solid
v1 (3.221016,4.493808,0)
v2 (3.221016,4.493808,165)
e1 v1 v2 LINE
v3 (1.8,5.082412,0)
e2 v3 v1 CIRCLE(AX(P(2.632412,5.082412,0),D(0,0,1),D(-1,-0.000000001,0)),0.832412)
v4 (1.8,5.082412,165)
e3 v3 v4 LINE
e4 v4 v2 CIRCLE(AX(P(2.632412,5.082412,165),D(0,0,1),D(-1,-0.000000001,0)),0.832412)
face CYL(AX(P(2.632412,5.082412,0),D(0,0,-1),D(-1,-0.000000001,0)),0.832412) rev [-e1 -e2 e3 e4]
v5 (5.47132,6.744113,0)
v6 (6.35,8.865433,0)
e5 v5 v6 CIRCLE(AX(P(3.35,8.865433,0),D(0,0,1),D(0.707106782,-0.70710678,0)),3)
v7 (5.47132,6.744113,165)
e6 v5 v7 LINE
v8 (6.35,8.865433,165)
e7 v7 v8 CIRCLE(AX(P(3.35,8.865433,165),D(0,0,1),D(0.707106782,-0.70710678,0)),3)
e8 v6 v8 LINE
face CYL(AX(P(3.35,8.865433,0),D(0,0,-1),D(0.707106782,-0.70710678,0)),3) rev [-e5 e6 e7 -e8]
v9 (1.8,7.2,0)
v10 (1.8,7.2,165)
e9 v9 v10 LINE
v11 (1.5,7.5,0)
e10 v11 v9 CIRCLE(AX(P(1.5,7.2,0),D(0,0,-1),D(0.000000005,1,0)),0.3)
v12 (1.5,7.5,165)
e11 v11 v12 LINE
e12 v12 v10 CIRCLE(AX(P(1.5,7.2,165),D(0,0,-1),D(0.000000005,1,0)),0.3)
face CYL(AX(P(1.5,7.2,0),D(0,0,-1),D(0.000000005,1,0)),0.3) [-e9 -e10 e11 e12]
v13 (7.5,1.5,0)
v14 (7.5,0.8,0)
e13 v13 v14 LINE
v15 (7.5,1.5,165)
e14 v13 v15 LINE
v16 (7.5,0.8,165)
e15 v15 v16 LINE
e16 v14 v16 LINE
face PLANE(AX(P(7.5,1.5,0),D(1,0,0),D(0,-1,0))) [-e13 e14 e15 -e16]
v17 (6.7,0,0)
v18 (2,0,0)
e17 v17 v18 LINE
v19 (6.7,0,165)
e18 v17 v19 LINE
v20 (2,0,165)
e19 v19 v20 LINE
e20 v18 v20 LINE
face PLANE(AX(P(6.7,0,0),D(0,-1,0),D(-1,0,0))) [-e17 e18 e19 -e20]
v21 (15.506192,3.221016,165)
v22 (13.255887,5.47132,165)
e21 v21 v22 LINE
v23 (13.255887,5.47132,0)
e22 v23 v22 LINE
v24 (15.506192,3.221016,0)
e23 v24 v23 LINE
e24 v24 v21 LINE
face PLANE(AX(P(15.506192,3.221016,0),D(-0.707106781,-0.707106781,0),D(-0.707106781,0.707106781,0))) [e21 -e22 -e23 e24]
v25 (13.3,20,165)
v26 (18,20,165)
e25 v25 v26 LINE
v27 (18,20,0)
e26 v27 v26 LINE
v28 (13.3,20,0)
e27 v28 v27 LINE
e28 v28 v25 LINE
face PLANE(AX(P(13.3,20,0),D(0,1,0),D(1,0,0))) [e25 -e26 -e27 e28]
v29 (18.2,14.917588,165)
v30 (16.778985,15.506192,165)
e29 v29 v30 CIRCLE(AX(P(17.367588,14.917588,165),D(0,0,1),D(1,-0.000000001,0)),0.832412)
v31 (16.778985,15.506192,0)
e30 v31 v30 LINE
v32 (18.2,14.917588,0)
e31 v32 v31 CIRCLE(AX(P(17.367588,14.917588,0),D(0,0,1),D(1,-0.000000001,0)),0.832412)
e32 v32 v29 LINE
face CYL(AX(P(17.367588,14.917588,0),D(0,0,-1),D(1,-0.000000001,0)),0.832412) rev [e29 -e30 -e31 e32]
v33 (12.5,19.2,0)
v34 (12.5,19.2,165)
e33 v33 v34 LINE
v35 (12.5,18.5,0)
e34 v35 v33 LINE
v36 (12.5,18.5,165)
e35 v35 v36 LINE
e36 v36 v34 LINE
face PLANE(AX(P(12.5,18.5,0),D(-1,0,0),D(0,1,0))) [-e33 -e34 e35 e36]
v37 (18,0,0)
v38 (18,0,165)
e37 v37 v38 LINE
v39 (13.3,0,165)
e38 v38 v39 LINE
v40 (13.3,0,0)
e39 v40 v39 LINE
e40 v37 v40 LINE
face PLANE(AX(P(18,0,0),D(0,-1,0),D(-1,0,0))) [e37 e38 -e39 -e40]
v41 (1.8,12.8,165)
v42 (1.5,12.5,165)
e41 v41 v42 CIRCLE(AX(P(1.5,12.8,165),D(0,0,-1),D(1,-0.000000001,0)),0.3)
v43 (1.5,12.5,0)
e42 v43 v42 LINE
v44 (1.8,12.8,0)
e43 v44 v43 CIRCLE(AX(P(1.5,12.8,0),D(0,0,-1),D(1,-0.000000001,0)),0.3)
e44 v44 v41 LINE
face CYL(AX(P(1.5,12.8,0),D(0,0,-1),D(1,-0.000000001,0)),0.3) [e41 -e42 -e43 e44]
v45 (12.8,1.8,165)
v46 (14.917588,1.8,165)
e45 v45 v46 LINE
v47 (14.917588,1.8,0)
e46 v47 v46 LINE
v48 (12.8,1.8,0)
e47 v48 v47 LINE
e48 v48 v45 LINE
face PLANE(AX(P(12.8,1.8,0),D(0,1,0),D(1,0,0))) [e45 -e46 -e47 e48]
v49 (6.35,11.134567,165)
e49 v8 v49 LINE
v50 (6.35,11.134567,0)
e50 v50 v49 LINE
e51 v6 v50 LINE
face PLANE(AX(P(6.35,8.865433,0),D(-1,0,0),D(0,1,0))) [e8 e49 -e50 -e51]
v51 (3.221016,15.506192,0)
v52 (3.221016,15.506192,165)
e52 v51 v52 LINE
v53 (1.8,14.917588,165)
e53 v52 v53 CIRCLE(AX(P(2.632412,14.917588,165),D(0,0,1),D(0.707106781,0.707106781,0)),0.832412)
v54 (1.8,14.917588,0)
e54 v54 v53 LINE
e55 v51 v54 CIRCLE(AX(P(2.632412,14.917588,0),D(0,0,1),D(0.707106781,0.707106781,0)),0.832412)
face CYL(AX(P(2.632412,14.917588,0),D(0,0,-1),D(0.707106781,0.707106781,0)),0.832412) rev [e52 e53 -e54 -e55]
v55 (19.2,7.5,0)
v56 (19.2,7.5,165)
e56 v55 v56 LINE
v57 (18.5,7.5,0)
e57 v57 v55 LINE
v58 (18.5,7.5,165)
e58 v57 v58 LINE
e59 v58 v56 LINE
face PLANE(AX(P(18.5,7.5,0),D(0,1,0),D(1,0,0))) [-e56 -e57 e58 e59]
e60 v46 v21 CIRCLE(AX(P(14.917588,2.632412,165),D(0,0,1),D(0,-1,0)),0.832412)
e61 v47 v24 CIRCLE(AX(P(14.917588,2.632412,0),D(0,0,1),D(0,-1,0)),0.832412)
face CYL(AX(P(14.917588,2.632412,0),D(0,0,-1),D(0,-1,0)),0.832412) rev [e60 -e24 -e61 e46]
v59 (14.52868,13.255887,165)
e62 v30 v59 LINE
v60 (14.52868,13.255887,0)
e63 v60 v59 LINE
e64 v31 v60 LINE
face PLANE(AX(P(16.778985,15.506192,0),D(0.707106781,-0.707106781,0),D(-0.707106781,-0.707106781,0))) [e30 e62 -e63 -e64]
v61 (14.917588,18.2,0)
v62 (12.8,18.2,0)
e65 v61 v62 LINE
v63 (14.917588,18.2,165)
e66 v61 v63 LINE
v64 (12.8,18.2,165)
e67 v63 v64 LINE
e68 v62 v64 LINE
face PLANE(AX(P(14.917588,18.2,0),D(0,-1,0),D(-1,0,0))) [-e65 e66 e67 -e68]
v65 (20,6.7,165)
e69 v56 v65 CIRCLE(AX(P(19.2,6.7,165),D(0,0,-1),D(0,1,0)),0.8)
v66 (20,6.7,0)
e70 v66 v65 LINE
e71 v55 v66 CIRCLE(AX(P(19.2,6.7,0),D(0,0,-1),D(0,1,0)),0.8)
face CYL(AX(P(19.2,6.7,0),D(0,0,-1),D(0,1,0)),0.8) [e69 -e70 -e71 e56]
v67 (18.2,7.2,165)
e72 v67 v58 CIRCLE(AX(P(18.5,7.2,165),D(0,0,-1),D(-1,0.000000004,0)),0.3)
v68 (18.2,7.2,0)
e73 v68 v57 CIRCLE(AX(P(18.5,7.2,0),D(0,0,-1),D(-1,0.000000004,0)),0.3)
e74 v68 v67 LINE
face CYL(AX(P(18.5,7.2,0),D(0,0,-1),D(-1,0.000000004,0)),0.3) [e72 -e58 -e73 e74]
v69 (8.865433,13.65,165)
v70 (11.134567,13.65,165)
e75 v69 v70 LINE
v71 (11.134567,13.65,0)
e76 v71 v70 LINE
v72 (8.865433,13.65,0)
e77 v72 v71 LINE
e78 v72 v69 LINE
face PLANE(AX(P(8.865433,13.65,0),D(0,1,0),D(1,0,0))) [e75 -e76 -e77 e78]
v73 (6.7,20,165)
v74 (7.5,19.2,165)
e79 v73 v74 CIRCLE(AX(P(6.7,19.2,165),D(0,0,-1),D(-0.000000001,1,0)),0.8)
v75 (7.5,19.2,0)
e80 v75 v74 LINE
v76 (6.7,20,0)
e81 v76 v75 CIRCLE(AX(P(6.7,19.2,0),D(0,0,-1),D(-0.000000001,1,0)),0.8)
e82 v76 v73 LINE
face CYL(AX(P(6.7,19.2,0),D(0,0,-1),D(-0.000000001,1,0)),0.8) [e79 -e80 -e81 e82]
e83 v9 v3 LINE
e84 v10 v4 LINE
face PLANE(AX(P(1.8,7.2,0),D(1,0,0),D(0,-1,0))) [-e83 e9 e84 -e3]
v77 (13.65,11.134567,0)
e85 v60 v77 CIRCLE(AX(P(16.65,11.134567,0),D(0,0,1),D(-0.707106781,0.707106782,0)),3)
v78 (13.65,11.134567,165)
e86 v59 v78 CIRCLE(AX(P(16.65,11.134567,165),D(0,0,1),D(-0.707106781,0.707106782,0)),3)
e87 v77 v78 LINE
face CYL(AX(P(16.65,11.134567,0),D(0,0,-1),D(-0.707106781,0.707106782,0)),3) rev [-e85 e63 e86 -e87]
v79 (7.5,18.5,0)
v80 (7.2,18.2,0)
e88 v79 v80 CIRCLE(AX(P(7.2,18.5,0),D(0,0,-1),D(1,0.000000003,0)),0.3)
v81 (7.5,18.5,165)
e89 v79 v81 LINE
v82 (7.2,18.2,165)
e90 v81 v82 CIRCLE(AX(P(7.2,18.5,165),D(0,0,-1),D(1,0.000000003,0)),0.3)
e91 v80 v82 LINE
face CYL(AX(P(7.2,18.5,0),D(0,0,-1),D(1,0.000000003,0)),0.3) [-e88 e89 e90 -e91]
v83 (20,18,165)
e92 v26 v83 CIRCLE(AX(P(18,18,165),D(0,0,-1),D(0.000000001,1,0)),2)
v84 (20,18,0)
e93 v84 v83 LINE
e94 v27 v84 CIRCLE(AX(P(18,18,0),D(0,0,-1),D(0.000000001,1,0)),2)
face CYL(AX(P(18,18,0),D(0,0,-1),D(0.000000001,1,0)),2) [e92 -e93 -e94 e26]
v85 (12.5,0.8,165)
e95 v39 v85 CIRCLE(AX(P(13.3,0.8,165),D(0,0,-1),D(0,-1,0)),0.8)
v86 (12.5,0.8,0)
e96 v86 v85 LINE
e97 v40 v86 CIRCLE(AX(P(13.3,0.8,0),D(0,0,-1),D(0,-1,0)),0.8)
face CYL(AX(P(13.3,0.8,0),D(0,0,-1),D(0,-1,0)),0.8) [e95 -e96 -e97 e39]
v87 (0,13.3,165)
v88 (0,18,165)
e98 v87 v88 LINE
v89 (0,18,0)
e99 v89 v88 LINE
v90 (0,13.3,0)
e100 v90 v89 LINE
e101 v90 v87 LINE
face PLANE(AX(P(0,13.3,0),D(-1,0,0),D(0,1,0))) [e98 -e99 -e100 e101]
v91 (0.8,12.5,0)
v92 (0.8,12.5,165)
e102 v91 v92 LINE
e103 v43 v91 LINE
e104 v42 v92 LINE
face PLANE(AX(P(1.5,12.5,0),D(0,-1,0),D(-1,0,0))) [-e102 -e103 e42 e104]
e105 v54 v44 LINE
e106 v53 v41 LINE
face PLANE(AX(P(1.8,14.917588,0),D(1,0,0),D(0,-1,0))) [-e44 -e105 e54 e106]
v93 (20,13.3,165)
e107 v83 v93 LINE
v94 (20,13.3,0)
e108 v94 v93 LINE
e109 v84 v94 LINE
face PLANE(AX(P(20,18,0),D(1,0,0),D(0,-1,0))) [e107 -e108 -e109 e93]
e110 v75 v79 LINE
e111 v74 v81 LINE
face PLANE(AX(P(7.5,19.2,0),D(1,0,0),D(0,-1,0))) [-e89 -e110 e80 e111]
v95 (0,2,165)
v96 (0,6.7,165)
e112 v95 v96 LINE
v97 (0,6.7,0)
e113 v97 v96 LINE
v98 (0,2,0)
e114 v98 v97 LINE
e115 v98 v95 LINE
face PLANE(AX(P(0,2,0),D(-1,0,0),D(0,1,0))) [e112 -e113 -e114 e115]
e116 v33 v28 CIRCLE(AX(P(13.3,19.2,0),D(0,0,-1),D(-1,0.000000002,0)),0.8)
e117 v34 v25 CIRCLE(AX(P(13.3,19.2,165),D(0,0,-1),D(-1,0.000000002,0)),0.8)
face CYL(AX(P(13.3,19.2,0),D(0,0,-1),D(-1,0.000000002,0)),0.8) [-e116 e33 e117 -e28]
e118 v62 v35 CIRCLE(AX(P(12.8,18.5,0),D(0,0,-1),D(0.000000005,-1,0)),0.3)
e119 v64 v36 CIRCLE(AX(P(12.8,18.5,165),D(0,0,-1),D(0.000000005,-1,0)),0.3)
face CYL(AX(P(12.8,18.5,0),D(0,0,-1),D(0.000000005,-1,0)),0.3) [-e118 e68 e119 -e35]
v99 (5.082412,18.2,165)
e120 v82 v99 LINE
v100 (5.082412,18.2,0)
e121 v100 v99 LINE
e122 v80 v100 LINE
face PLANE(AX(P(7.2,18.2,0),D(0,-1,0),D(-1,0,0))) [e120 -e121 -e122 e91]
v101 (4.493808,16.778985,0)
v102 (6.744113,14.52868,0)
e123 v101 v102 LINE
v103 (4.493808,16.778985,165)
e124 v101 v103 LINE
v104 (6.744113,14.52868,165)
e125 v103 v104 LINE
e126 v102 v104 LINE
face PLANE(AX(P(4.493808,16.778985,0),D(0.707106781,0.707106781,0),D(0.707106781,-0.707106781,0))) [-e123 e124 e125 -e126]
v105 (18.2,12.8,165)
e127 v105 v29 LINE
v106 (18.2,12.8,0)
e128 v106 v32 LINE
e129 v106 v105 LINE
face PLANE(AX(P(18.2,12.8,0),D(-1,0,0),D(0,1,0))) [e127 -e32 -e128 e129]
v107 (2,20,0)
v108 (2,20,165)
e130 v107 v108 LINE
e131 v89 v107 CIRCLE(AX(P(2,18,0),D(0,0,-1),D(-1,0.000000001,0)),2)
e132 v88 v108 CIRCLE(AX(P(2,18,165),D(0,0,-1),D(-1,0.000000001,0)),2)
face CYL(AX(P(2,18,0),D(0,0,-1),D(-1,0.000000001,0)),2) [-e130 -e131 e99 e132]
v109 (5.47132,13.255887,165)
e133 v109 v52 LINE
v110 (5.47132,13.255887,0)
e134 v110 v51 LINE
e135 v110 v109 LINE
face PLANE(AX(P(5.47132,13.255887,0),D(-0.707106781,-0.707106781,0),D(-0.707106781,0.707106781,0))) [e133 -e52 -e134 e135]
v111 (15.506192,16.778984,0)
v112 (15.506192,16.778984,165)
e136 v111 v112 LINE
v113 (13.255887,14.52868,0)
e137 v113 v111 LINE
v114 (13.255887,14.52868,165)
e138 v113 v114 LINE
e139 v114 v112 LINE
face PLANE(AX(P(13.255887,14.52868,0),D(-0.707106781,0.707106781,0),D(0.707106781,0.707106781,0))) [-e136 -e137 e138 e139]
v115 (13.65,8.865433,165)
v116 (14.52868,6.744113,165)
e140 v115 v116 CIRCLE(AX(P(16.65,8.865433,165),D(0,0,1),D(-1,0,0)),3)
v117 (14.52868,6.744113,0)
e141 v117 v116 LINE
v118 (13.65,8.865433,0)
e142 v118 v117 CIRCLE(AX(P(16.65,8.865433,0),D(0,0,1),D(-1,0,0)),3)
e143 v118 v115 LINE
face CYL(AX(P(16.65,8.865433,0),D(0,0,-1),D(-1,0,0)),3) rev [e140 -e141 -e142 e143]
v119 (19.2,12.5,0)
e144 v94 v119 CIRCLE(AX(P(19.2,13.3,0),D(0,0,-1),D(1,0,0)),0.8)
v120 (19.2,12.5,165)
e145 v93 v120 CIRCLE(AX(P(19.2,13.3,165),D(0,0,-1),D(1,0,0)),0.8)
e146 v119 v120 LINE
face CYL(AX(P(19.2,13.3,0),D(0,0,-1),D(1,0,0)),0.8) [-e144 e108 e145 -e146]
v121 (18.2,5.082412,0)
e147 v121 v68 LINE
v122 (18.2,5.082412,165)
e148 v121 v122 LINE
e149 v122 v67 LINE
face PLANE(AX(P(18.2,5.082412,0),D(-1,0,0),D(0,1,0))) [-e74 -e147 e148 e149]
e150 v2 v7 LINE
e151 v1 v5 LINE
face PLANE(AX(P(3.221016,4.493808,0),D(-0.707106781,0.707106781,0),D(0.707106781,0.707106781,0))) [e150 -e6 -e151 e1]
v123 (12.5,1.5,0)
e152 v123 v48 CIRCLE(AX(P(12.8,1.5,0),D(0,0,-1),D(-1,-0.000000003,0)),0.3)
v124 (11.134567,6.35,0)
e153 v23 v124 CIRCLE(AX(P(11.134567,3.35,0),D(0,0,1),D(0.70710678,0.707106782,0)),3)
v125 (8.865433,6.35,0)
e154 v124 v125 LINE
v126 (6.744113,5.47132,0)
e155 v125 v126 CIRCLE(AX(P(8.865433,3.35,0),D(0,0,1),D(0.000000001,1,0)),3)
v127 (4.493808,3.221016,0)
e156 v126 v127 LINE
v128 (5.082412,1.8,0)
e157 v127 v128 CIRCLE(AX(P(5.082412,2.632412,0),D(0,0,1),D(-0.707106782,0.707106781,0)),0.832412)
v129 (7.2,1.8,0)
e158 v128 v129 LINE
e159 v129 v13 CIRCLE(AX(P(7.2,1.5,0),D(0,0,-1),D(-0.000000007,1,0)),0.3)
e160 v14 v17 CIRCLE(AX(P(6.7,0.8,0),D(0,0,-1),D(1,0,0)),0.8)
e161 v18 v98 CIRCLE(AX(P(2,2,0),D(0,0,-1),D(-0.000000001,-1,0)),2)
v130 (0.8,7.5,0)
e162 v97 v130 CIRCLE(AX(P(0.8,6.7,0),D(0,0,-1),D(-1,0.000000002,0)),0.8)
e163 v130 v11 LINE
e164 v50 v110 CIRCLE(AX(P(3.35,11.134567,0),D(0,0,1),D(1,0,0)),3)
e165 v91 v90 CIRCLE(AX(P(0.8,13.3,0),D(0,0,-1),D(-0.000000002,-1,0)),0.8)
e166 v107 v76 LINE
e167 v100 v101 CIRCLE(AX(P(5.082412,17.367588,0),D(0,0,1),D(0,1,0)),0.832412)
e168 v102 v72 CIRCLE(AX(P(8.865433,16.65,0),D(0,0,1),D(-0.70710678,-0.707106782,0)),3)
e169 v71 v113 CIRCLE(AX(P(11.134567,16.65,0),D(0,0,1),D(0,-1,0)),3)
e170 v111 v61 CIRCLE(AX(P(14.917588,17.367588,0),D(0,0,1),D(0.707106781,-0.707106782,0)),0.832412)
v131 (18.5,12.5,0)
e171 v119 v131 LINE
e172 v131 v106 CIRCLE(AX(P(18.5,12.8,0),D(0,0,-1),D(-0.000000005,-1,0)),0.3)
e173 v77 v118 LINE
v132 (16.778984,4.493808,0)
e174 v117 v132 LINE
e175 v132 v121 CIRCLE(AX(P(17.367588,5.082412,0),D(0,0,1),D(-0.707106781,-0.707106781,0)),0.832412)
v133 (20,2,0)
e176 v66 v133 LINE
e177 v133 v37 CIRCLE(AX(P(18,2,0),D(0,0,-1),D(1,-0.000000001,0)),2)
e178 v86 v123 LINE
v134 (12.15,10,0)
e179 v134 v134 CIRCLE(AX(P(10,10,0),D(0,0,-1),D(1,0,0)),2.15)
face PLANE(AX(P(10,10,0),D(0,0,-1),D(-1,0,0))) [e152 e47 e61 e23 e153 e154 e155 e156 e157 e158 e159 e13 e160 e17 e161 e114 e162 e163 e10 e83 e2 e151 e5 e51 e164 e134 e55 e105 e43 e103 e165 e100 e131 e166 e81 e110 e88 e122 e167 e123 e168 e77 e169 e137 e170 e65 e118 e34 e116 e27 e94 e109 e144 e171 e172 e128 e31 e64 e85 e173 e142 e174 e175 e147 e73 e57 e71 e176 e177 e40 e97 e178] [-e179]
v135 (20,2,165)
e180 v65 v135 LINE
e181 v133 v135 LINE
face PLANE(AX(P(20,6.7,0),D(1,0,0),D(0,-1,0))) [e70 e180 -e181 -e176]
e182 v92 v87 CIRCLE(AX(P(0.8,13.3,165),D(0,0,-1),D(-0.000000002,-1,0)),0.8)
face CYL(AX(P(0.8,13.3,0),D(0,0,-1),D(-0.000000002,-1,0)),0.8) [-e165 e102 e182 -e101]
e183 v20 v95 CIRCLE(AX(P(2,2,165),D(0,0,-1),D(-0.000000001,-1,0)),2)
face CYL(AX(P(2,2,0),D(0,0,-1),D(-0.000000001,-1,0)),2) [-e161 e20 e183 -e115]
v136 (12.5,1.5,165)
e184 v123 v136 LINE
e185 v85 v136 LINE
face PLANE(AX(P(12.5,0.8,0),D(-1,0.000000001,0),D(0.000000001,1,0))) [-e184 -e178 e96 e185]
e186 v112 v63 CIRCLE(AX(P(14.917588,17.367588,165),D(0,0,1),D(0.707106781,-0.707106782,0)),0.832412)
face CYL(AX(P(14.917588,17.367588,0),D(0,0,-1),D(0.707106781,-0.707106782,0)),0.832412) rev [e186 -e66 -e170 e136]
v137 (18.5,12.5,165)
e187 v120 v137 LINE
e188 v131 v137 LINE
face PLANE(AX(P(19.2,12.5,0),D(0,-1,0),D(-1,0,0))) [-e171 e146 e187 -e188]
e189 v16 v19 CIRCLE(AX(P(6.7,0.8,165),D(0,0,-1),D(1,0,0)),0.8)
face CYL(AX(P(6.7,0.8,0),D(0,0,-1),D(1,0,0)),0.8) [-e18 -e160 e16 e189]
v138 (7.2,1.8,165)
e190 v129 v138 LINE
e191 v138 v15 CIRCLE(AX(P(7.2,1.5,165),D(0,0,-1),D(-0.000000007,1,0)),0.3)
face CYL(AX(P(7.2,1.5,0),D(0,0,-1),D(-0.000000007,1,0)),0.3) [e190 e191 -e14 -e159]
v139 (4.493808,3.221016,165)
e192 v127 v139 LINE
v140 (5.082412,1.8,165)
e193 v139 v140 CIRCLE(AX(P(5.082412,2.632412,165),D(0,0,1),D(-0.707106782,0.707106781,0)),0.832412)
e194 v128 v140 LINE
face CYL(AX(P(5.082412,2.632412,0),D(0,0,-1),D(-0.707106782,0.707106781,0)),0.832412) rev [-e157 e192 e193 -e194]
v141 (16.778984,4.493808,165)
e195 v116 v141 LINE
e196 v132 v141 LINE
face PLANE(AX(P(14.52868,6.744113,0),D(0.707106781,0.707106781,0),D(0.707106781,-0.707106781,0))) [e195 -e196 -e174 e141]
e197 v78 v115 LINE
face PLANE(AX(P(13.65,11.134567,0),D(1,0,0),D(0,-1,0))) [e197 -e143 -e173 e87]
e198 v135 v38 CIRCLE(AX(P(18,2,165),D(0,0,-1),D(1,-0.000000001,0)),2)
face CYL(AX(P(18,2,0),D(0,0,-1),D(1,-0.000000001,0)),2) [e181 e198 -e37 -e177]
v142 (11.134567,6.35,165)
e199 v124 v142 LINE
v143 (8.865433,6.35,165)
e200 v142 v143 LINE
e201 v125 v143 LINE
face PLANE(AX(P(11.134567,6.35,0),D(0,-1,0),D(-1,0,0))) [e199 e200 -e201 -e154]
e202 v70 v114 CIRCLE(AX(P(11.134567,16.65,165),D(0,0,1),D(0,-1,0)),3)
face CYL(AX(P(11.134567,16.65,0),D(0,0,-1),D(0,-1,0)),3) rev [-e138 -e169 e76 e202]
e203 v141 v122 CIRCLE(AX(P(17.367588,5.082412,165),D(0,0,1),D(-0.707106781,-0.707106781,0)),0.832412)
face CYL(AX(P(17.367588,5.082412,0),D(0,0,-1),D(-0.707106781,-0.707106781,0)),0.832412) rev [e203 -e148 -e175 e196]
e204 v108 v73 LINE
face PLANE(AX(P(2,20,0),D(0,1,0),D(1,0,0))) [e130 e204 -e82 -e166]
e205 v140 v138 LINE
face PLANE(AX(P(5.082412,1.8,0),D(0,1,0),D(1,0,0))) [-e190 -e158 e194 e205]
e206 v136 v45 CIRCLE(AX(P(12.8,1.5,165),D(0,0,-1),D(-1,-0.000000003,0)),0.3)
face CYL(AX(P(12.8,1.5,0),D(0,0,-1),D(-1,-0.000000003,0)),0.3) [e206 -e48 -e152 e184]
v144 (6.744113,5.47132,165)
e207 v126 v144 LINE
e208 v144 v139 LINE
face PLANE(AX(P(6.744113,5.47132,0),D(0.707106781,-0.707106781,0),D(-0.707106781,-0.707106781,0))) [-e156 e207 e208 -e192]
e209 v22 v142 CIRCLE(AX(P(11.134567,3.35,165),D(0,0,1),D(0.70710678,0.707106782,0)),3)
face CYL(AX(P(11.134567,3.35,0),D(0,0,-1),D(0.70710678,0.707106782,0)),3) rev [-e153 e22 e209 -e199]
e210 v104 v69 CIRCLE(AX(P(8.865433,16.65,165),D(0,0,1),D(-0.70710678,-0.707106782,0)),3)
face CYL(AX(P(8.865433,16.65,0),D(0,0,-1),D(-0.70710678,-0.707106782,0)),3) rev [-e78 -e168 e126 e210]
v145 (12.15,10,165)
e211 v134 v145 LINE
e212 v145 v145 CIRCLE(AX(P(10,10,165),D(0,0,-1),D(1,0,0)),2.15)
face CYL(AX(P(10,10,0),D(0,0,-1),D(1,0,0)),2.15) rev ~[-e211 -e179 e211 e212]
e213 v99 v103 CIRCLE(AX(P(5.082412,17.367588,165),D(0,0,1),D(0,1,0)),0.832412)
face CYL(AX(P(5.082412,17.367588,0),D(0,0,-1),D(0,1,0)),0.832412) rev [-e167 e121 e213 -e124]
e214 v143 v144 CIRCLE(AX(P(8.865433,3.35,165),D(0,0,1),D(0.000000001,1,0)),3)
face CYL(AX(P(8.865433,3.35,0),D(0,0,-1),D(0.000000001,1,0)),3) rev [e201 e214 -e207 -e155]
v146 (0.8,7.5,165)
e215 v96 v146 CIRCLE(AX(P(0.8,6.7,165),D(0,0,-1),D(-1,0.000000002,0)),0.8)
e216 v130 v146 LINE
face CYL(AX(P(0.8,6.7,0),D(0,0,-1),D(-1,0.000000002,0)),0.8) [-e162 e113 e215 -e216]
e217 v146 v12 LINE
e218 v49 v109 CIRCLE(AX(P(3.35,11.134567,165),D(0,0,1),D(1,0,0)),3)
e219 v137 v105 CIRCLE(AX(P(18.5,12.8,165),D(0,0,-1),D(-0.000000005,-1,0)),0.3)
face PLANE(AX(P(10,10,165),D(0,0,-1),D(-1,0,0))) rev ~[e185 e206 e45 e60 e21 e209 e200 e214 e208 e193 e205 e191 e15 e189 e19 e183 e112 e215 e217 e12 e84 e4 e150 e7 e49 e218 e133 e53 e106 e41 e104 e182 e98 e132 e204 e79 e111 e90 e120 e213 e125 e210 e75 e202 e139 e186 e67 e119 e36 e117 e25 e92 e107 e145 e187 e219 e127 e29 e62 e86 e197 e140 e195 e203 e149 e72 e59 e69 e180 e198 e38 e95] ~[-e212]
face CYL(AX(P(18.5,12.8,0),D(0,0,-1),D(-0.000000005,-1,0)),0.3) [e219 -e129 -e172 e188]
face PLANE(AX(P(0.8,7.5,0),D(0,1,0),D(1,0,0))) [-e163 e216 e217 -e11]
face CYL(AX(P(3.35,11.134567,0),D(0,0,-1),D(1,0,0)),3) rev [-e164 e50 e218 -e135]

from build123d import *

# Parameters (mm, degrees)
ESQUISSE1_R        = 2.15
BOSS_EXTRU_1_DEPTH = 165


with BuildPart() as part:
    # Esquisse1 → Boss.-Extru.1 (new body)
    with BuildSketch(Plane(origin=(0, 0, 0), x_dir=(-1, 0, 0), z_dir=(0, 0, -1))):
        with BuildLine():
            Line((-12.499999997, 0.800000003), (-12.499999998, 1.500000003))
            ThreePointArc((-12.499999998, 1.500000003), (-12.587867964, 1.712132039), (-12.8, 1.800000005))
            Line((-12.8, 1.800000005), (-14.9175884, 1.800000005))
            ThreePointArc((-14.9175884, 1.800000005), (-15.686636444, 2.31386148), (-15.50619229, 3.2210155))
            Line((-15.50619229, 3.2210155), (-13.25588745, 5.47132034))
            ThreePointArc((-13.25588745, 5.47132034), (-12.282617404, 6.121638593), (-11.134567108, 6.349999996))
            Line((-11.134567108, 6.349999996), (-8.865432907, 6.349999996))
            ThreePointArc((-8.865432907, 6.349999996), (-7.717382611, 6.121638594), (-6.744112567, 5.471320341))
            Line((-6.744112567, 5.471320341), (-4.493807729, 3.221015503))
            ThreePointArc((-4.493807729, 3.221015503), (-4.313363575, 2.313861481), (-5.082411621, 1.800000005))
            Line((-5.082411621, 1.800000005), (-7.20000001, 1.800000005))
            ThreePointArc((-7.20000001, 1.800000005), (-7.412132045, 1.71213204), (-7.50000001, 1.500000005))
            Line((-7.50000001, 1.500000005), (-7.50000001, 0.8))
            ThreePointArc((-7.50000001, 0.8), (-7.265685435, 0.234314575), (-6.70000001, 0))
            Line((-6.70000001, 0), (-2, 0))
            ThreePointArc((-2, 0), (-0.585786438, 0.585786438), (0, 2))
            Line((0, 2), (0, 6.699999998))
            ThreePointArc((0, 6.699999998), (-0.234314576, 7.265685424), (-0.800000003, 7.5))
            Line((-0.800000003, 7.5), (-1.50000001, 7.5))
            ThreePointArc((-1.50000001, 7.5), (-1.712132046, 7.412132033), (-1.800000013, 7.199999997))
            Line((-1.800000013, 7.199999997), (-1.800000013, 5.082411603))
            ThreePointArc((-1.800000013, 5.082411603), (-2.313861487, 4.31336356), (-3.221015507, 4.493807713))
            Line((-3.221015507, 4.493807713), (-5.471320347, 6.744112553))
            ThreePointArc((-5.471320347, 6.744112553), (-6.1216386, 7.717382599), (-6.350000003, 8.865432896))
            Line((-6.350000003, 8.865432896), (-6.350000003, 11.134567102))
            ThreePointArc((-6.350000003, 11.134567102), (-6.121638601, 12.282617397), (-5.471320348, 13.255887442))
            Line((-5.471320348, 13.255887442), (-3.221015512, 15.506192278))
            ThreePointArc((-3.221015512, 15.506192278), (-2.313861489, 15.686636432), (-1.800000013, 14.917588386))
            Line((-1.800000013, 14.917588386), (-1.800000013, 12.799999998))
            ThreePointArc((-1.800000013, 12.799999998), (-1.712132047, 12.587867963), (-1.500000013, 12.499999997))
            Line((-1.500000013, 12.499999997), (-0.8, 12.499999997))
            ThreePointArc((-0.8, 12.499999997), (-0.234314575, 12.734314573), (0, 13.299999998))
            Line((0, 13.299999998), (0, 18))
            ThreePointArc((0, 18), (-0.585786438, 19.414213562), (-2, 20))
            Line((-2, 20), (-6.700000008, 20))
            ThreePointArc((-6.700000008, 20), (-7.265685435, 19.765685424), (-7.50000001, 19.199999998))
            Line((-7.50000001, 19.199999998), (-7.50000001, 18.500000005))
            ThreePointArc((-7.50000001, 18.500000005), (-7.412132044, 18.287867969), (-7.200000008, 18.200000003))
            Line((-7.200000008, 18.200000003), (-5.082411594, 18.200000003))
            ThreePointArc((-5.082411594, 18.200000003), (-4.313363546, 17.686138526), (-4.493807701, 16.778984501))
            Line((-4.493807701, 16.778984501), (-6.744112542, 14.528679659))
            ThreePointArc((-6.744112542, 14.528679659), (-7.717382588, 13.878361406), (-8.865432885, 13.650000003))
            Line((-8.865432885, 13.650000003), (-11.134567112, 13.650000003))
            ThreePointArc((-11.134567112, 13.650000003), (-12.282617407, 13.878361405), (-13.255887452, 14.528679658))
            Line((-13.255887452, 14.528679658), (-15.506192292, 16.778984498))
            ThreePointArc((-15.506192292, 16.778984498), (-15.686636447, 17.686138525), (-14.917588397, 18.200000002))
            Line((-14.917588397, 18.200000002), (-12.799999998, 18.200000003))
            ThreePointArc((-12.799999998, 18.200000003), (-12.587867963, 18.287867968), (-12.499999997, 18.500000002))
            Line((-12.499999997, 18.500000002), (-12.499999997, 19.2))
            ThreePointArc((-12.499999997, 19.2), (-12.734314573, 19.765685425), (-13.299999998, 20))
            Line((-13.299999998, 20), (-18, 20))
            ThreePointArc((-18, 20), (-19.414213562, 19.414213562), (-20, 18))
            Line((-20, 18), (-20, 13.3))
            ThreePointArc((-20, 13.3), (-19.765685424, 12.734314573), (-19.199999998, 12.499999997))
            Line((-19.199999998, 12.499999997), (-18.500000003, 12.499999997))
            ThreePointArc((-18.500000003, 12.499999997), (-18.287867967, 12.587867964), (-18.2, 12.8))
            Line((-18.2, 12.8), (-18.2, 14.91758839))
            ThreePointArc((-18.2, 14.91758839), (-17.686138526, 15.686636434), (-16.778984506, 15.50619228))
            Line((-16.778984506, 15.50619228), (-14.528679657, 13.255887431))
            ThreePointArc((-14.528679657, 13.255887431), (-13.878361403, 12.282617385), (-13.650000001, 11.134567088))
            Line((-13.650000001, 11.134567088), (-13.650000001, 8.865432886))
            ThreePointArc((-13.650000001, 8.865432886), (-13.878361403, 7.717382591), (-14.528679656, 6.744112546))
            Line((-14.528679656, 6.744112546), (-16.778984496, 4.493807706))
            ThreePointArc((-16.778984496, 4.493807706), (-17.686138522, 4.313363551), (-18.2, 5.0824116))
            Line((-18.2, 5.0824116), (-18.2, 7.2))
            ThreePointArc((-18.2, 7.2), (-18.287867966, 7.412132034), (-18.5, 7.5))
            Line((-18.5, 7.5), (-19.2, 7.5))
            ThreePointArc((-19.2, 7.5), (-19.765685425, 7.265685425), (-20, 6.7))
            Line((-20, 6.7), (-20, 2))
            ThreePointArc((-20, 2), (-19.414213562, 0.585786438), (-18, 0))
            Line((-18, 0), (-13.3, 0))
            ThreePointArc((-13.3, 0), (-12.734314573, 0.234314576), (-12.499999997, 0.800000003))
        make_face()
        with Locations(Location((-10, 10, 0), (0, 0, 180))):
            Circle(ESQUISSE1_R, mode=Mode.SUBTRACT)
    extrude(amount=-BOSS_EXTRU_1_DEPTH)


solid = part.part
